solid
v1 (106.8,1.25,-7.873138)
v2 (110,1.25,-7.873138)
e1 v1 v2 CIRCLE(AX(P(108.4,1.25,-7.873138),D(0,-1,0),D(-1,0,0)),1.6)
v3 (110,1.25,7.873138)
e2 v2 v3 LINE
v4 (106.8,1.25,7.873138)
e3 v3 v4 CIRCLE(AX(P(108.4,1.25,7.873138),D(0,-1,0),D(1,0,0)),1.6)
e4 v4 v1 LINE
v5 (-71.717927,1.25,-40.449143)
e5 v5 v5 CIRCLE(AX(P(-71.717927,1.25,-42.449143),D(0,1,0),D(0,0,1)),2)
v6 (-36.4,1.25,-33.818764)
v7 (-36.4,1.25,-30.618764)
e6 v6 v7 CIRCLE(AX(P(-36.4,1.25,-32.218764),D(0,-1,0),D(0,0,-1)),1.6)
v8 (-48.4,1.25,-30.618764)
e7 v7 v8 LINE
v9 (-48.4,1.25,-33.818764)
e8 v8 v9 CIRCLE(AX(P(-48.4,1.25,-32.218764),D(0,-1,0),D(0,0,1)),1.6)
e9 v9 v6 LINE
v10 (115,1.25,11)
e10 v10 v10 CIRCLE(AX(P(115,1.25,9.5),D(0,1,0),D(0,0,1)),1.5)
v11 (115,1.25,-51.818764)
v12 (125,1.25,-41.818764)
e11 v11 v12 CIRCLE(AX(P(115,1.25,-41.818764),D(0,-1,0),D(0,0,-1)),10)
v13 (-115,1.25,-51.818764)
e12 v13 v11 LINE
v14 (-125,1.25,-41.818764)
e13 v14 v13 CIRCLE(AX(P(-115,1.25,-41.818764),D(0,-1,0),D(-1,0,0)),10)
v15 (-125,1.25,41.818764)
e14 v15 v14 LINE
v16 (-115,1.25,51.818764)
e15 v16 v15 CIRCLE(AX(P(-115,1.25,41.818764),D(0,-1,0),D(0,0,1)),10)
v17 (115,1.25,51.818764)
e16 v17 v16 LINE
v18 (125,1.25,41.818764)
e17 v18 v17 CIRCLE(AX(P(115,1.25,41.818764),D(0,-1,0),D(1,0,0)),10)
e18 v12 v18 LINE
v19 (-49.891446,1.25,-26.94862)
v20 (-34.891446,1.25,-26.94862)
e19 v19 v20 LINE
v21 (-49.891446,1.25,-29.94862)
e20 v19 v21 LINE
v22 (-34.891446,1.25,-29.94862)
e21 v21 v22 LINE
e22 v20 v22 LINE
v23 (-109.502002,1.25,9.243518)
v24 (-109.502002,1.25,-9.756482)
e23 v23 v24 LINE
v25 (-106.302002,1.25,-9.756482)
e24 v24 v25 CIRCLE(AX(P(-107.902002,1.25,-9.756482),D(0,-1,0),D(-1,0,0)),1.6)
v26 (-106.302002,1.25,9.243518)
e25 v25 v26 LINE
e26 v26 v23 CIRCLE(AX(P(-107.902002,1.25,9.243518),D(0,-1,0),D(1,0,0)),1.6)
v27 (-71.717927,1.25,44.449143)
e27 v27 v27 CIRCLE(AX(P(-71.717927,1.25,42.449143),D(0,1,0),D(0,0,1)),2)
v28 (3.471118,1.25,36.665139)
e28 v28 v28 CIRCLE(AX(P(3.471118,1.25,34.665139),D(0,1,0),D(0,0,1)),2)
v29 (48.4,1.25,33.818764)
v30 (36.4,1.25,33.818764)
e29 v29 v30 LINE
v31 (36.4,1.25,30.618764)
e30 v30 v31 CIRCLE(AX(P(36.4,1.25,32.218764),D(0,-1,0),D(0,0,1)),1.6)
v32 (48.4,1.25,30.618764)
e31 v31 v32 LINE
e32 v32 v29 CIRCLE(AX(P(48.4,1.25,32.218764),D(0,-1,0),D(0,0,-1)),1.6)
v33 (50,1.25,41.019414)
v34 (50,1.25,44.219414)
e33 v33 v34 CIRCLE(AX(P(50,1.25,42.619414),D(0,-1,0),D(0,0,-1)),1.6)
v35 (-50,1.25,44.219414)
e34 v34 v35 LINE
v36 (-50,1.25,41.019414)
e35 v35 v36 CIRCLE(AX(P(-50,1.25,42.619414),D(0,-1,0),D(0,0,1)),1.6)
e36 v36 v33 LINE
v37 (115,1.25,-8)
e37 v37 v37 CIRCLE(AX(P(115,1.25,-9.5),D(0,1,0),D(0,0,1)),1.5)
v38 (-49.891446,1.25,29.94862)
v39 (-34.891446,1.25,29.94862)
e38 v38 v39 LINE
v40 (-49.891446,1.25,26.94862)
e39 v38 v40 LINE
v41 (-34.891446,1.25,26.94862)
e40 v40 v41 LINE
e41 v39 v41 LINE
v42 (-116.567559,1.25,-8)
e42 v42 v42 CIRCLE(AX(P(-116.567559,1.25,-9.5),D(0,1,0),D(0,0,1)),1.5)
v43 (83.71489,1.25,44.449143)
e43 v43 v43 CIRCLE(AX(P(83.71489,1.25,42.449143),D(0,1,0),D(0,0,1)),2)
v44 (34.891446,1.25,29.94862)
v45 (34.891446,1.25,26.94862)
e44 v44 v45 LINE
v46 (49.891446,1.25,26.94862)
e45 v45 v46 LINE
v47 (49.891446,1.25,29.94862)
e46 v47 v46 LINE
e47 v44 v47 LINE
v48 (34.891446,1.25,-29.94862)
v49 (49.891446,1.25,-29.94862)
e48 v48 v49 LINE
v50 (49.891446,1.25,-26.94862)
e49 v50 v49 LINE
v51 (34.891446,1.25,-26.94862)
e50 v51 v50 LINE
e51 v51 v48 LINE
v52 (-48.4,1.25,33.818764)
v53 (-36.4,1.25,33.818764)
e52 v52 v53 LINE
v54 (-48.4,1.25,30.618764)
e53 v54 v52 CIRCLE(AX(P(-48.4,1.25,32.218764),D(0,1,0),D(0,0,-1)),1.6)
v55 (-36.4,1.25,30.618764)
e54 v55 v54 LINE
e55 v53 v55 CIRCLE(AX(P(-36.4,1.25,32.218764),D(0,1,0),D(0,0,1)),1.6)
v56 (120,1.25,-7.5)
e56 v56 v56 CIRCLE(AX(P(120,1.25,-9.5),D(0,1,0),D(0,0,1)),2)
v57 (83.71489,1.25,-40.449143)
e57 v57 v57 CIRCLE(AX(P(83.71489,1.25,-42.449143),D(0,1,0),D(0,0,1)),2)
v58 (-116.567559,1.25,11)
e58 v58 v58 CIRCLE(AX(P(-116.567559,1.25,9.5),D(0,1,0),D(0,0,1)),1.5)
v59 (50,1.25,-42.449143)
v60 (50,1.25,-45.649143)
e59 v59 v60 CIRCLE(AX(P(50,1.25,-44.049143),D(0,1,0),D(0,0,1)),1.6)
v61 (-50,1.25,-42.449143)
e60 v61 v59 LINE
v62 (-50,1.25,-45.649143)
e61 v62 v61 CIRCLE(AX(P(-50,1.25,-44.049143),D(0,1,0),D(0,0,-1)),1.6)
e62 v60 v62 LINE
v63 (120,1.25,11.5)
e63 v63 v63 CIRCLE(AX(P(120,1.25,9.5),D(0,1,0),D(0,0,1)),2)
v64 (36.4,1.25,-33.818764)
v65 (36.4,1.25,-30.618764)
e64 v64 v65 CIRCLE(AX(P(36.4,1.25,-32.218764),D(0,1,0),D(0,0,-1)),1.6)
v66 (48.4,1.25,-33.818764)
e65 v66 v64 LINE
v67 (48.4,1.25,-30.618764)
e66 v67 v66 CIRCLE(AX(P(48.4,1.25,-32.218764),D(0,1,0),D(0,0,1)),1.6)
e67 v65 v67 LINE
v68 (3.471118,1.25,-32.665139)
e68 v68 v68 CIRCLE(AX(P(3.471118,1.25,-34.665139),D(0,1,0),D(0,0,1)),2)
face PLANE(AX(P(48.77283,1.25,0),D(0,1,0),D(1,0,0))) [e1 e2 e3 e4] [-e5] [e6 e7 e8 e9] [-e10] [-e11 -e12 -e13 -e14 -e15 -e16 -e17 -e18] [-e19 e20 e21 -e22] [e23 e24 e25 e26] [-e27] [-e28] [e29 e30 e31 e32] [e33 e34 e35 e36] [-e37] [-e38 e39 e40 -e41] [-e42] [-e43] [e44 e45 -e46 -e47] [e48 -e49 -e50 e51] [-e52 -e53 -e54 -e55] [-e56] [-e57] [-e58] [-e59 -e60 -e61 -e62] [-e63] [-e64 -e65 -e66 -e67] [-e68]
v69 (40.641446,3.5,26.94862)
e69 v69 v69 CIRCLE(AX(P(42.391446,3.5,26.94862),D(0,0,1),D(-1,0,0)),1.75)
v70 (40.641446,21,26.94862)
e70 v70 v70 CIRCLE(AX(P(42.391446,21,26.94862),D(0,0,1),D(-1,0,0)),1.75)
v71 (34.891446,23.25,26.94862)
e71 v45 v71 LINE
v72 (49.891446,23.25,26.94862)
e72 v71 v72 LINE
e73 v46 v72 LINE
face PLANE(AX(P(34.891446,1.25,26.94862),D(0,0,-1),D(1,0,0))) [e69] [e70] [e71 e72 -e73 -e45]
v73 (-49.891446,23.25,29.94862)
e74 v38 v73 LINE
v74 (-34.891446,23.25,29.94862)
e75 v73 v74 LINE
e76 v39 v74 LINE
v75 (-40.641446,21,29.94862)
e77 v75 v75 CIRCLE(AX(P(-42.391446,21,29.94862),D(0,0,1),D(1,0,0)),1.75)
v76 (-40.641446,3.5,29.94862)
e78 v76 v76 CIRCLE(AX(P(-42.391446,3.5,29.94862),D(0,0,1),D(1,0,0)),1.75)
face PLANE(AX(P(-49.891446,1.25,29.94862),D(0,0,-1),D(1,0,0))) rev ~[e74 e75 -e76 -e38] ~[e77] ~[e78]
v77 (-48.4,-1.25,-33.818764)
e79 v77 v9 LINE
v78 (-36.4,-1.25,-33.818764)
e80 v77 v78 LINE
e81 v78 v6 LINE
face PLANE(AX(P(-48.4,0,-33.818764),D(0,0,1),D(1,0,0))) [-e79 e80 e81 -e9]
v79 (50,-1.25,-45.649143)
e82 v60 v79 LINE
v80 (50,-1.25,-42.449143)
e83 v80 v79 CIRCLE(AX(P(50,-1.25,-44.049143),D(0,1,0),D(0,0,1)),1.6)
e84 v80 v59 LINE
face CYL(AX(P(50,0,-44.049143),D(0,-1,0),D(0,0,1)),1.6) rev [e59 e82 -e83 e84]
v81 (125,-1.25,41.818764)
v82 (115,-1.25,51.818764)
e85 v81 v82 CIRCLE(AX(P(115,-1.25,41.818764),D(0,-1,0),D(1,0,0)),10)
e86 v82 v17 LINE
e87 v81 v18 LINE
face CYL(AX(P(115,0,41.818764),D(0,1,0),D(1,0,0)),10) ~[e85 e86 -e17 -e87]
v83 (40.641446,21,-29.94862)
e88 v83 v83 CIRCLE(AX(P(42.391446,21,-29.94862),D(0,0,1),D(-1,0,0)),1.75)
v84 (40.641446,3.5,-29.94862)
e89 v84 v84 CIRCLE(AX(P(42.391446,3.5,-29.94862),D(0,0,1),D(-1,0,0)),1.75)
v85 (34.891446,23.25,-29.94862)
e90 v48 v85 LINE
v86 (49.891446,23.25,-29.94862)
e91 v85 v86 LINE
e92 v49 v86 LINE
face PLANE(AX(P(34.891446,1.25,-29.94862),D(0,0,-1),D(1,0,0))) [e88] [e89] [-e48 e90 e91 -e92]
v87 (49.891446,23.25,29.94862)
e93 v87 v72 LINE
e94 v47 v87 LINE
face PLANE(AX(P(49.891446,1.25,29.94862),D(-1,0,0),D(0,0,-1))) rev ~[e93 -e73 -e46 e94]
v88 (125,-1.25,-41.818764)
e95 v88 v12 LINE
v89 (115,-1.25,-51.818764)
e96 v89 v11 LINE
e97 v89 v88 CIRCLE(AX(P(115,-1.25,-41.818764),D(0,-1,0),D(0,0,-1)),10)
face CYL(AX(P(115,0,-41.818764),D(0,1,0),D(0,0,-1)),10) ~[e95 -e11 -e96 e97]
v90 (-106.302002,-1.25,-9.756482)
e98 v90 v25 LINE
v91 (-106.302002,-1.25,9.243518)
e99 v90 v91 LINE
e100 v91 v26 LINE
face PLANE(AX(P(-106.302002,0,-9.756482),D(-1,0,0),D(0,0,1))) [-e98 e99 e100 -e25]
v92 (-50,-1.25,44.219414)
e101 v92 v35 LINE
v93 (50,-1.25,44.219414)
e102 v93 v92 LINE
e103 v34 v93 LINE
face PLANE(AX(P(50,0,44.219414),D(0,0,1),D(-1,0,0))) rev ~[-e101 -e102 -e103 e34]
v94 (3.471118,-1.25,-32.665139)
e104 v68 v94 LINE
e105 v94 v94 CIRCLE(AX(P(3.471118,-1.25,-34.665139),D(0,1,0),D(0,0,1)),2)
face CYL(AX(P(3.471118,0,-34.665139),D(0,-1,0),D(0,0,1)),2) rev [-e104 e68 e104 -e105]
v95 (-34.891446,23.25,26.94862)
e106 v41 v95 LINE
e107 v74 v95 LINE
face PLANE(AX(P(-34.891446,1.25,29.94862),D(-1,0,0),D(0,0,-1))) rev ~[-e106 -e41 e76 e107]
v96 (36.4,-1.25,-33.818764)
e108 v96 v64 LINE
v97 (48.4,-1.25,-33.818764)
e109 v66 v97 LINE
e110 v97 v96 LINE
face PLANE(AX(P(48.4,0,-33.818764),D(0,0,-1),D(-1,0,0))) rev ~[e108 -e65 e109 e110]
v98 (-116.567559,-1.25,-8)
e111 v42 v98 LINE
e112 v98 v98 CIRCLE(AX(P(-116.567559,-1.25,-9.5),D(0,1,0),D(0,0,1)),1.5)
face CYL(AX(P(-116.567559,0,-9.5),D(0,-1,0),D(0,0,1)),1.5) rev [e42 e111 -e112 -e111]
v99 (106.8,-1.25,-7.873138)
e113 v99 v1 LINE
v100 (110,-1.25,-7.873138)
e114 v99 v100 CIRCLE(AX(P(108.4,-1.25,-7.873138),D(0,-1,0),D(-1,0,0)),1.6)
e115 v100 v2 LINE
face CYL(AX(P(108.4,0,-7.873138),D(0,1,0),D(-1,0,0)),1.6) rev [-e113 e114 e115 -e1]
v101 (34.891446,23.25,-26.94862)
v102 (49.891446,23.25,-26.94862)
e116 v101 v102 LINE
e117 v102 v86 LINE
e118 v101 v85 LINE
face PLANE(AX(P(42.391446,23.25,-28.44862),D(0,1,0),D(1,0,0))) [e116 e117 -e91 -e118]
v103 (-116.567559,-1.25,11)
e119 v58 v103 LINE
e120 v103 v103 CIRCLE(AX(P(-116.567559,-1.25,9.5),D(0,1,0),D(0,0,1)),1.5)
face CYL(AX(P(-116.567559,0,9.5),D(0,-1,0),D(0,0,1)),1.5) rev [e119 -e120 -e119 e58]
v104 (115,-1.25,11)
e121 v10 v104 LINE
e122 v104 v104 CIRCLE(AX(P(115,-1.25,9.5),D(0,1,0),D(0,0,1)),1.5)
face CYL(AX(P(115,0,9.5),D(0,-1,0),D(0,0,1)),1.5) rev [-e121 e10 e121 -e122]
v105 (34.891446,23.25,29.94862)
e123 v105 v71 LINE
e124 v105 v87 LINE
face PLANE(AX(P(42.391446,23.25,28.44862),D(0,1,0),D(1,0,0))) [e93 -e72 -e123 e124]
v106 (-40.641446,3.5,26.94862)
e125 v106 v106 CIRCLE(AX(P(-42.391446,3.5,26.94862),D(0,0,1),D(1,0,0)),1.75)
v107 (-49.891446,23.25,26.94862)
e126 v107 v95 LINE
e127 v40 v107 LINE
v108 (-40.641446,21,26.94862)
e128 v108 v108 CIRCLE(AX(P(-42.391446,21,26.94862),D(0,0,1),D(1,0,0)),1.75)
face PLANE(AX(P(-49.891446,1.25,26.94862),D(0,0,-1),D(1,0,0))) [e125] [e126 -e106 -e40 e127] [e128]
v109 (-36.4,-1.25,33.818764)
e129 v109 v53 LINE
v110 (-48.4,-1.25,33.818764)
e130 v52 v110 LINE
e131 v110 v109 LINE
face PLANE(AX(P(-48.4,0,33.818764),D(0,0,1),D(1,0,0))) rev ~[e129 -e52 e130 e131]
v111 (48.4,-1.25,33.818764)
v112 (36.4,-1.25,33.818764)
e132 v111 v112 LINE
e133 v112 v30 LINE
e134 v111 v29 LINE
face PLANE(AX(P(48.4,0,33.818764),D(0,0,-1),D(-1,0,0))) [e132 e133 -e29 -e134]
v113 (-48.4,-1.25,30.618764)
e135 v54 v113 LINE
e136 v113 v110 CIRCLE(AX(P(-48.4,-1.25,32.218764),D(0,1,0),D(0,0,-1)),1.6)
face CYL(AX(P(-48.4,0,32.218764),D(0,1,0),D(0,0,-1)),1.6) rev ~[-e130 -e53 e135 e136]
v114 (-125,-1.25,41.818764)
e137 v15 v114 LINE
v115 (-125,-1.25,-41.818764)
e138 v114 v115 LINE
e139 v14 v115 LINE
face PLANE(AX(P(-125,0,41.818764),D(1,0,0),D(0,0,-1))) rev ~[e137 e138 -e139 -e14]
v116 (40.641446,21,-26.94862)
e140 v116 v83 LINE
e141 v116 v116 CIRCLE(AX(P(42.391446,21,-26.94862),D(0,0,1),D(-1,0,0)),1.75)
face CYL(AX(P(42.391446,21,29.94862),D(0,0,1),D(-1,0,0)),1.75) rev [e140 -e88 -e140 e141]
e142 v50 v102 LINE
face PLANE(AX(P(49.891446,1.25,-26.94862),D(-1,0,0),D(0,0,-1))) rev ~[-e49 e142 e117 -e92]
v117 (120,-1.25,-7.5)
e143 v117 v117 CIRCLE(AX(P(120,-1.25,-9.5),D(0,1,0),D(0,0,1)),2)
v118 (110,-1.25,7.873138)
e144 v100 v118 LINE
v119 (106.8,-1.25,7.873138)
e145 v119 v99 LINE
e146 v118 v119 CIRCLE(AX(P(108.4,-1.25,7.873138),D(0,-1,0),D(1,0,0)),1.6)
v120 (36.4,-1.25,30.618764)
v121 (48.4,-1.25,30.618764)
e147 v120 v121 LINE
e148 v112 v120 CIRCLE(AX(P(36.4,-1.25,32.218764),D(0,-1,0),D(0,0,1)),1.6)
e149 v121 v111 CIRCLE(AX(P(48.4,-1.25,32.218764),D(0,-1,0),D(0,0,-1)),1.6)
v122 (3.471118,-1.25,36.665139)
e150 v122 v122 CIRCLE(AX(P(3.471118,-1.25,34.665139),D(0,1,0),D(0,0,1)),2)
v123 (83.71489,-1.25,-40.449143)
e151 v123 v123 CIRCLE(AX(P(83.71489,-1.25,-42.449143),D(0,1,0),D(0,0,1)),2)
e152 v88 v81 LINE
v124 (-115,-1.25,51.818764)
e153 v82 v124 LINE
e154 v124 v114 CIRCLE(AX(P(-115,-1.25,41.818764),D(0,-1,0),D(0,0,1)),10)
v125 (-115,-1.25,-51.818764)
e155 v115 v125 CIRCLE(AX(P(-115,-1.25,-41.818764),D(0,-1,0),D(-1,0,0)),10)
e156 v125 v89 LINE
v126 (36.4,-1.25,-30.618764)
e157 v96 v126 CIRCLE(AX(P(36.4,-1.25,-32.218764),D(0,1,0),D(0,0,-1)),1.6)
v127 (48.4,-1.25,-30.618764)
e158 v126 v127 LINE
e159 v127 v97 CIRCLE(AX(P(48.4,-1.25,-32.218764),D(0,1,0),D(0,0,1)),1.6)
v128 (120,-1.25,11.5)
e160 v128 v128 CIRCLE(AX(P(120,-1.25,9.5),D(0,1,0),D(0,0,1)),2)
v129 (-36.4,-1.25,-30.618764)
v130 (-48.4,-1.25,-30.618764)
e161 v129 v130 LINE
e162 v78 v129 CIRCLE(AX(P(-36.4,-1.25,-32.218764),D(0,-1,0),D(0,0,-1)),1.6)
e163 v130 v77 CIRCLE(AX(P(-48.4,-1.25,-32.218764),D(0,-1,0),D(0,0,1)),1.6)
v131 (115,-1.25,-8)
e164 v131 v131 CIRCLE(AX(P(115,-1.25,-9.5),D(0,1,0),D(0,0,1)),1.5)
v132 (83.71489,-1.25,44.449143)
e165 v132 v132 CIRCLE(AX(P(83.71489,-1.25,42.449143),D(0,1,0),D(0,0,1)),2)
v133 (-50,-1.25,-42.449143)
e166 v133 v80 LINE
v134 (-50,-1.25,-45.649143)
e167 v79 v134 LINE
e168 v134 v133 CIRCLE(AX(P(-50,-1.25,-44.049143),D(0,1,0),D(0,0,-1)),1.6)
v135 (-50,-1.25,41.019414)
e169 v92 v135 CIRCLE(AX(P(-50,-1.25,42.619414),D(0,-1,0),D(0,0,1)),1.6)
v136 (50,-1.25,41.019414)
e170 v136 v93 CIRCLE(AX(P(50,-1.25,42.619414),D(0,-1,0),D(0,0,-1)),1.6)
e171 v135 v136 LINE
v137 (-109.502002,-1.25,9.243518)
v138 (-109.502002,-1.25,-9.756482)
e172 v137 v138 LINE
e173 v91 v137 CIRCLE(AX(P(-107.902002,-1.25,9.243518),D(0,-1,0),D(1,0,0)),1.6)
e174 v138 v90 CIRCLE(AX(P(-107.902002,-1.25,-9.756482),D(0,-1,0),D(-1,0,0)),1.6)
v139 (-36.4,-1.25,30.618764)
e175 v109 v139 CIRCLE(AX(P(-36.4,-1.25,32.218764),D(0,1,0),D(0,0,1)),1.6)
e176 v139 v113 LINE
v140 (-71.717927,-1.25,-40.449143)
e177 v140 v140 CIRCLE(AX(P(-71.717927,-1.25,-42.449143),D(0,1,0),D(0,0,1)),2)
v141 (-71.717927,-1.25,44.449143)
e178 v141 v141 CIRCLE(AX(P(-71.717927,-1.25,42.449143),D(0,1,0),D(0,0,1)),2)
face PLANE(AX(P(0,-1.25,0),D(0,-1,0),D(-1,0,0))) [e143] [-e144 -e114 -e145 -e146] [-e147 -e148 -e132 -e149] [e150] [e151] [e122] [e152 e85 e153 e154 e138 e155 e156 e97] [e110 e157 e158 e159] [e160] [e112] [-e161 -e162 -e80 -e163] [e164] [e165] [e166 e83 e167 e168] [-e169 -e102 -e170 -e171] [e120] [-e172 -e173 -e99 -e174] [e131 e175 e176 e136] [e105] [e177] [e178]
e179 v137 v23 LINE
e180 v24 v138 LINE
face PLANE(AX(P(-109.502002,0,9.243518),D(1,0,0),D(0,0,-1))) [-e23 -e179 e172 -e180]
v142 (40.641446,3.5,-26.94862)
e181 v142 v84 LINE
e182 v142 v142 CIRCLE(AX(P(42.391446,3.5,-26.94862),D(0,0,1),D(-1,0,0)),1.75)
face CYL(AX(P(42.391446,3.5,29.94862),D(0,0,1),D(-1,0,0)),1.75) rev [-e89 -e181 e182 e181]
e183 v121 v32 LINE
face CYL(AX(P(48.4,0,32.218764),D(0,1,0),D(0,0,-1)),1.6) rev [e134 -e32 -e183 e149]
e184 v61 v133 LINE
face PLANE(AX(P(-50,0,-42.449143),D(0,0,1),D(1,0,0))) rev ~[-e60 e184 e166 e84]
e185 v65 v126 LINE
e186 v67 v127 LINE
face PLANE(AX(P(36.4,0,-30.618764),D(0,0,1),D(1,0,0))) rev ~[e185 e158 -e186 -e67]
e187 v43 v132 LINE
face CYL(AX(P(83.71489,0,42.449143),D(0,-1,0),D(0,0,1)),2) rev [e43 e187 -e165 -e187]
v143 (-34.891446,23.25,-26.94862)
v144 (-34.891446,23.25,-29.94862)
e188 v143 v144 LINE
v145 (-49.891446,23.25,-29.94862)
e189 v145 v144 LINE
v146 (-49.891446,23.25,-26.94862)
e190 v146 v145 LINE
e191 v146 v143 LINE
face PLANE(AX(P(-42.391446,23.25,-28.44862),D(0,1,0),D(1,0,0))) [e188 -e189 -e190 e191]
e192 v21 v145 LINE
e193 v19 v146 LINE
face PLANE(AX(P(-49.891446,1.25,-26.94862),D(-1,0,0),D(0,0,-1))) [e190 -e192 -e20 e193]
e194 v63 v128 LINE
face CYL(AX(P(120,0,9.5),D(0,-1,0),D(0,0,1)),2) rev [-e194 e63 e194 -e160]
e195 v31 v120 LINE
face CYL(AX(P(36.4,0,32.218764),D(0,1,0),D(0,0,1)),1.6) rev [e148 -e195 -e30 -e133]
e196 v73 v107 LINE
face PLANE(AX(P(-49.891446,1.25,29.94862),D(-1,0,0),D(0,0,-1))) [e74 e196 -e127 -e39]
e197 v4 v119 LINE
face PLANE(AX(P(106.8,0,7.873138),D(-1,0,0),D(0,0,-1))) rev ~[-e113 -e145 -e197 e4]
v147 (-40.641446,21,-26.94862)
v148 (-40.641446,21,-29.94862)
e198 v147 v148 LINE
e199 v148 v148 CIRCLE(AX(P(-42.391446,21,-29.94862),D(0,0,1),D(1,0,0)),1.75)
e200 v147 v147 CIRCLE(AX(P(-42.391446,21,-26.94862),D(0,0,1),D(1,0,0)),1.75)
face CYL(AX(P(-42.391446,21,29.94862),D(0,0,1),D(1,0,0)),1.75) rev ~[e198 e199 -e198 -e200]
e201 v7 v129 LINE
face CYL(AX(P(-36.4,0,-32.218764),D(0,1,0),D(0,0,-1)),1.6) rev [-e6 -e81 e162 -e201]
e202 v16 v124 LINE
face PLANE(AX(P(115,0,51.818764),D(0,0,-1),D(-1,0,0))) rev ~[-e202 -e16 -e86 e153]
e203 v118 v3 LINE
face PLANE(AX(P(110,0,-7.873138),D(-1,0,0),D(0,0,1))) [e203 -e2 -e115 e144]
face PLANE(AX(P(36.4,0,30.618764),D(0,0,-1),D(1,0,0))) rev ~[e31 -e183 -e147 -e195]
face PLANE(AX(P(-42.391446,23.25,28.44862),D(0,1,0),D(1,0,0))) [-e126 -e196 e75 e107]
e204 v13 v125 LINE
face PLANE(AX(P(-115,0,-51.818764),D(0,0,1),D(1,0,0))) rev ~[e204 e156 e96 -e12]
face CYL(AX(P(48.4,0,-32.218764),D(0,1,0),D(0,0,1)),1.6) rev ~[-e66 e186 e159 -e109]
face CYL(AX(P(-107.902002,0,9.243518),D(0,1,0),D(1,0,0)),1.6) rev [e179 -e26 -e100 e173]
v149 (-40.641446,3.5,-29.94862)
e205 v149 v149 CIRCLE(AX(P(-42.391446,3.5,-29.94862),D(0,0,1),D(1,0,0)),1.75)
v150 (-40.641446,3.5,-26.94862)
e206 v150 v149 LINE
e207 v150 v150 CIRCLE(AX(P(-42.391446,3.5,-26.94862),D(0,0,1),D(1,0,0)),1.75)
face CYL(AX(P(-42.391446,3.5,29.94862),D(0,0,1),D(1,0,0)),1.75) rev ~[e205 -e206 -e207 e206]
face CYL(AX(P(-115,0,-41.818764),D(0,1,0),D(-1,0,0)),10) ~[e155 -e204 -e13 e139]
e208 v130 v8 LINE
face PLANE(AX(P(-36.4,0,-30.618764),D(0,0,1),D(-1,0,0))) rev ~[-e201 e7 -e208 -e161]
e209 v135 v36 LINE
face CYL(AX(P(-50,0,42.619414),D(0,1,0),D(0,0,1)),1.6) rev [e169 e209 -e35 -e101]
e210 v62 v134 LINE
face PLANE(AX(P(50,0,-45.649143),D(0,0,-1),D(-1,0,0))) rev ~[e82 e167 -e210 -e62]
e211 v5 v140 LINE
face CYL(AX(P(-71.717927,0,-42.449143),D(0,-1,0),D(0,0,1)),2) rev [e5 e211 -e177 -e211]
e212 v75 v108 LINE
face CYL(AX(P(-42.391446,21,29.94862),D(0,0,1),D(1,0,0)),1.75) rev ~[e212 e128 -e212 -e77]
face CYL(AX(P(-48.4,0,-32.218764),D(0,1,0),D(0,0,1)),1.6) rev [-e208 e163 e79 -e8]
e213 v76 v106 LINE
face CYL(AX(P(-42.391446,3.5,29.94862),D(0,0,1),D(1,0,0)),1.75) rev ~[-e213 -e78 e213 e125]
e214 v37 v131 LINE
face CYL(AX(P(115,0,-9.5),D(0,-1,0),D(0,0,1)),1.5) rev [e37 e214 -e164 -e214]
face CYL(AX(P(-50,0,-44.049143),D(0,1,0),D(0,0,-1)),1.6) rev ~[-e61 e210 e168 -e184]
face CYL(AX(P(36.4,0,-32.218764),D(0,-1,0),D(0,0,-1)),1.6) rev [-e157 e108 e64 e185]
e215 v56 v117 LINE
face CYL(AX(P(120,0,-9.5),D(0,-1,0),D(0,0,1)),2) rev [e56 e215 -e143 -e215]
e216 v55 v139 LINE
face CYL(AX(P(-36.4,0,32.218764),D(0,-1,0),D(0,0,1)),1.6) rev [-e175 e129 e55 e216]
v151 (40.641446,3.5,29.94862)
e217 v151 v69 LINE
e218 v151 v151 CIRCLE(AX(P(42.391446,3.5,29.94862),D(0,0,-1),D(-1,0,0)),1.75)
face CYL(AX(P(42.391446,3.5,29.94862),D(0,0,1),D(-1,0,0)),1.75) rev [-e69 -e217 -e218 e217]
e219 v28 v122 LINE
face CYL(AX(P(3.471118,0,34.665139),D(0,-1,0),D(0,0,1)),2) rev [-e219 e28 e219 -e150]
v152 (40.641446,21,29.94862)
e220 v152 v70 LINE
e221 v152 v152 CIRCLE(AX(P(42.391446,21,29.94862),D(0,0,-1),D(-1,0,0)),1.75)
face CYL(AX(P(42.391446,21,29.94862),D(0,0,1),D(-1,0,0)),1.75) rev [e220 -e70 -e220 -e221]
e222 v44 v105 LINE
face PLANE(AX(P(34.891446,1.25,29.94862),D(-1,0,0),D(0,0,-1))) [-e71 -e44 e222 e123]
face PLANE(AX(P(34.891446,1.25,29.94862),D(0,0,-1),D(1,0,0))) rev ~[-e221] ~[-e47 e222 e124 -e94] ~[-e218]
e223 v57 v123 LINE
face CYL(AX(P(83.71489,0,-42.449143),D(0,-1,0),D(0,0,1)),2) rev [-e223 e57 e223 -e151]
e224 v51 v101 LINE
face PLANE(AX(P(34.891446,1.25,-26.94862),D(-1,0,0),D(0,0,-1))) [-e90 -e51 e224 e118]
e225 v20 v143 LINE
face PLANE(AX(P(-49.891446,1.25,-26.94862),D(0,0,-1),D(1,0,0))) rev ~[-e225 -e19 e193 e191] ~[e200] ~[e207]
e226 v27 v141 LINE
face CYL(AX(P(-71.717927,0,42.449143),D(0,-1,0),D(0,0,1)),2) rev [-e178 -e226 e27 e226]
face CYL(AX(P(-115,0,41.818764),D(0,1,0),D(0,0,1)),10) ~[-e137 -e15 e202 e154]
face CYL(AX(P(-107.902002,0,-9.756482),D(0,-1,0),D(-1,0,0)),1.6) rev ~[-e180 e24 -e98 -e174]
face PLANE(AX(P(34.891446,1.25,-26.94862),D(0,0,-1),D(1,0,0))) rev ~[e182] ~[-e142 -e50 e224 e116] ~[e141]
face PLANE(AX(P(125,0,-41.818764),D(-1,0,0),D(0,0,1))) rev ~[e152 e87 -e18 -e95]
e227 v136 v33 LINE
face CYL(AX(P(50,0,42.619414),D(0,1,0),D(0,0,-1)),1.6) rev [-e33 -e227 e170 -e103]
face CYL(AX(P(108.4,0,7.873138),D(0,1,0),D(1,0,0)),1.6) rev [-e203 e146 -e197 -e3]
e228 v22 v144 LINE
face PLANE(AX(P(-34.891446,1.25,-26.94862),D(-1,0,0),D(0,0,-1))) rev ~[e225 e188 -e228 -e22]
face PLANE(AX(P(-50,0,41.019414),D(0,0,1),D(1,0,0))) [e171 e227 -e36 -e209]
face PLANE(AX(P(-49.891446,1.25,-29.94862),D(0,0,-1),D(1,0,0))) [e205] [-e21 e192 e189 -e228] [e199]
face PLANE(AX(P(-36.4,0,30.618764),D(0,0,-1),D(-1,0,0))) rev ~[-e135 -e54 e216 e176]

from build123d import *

# Parameters (mm, degrees)
SKETCH_1_R          = 2
SKETCH_1_R_2        = 1.5
SKETCH_1_W          = 83
SKETCH_1_H          = 53
EXTRUDE_1_DEPTH     = 1.25
SKETCH_1_3_W        = 83
SKETCH_1_3_H        = 53
EXTRUDE_2_DEPTH     = 1.25
SKETCH_3_W          = 15
SKETCH_3_H          = 3
EXTRUDE_3_DEPTH     = 22
SKETCH_4_R          = 1.75
CUT_EXTRUDE_1_DEPTH = 152.167018917


with BuildPart() as part:
    # 草图1 → 凸台-拉伸1 (new, symmetric)
    with BuildSketch(Plane(origin=(0, 0, 0), x_dir=(1, 0, 0), z_dir=(0, 1, 0))):
        with BuildLine():
            Line((115, -51.818763954), (-115, -51.818763954))
            ThreePointArc((-115, -51.818763954), (-122.071067812, -48.889831766), (-125, -41.818763954))
            Line((-125, -41.818763954), (-125, 41.818763954))
            ThreePointArc((-125, 41.818763954), (-122.071067812, 48.889831766), (-115, 51.818763954))
            Line((-115, 51.818763954), (115, 51.818763954))
            ThreePointArc((115, 51.818763954), (122.071067812, 48.889831766), (125, 41.818763954))
            Line((125, 41.818763954), (125, -41.818763954))
            ThreePointArc((125, -41.818763954), (122.071067812, -48.889831766), (115, -51.818763954))
        make_face()
        with Locations(Location((120, 9.5, 0), (0, 0, 270))):
            Circle(SKETCH_1_R, mode=Mode.SUBTRACT)
        with Locations(Location((120, -9.5, 0), (0, 0, 270))):
            Circle(SKETCH_1_R, mode=Mode.SUBTRACT)
        with Locations(Location((115, 9.5, 0), (0, 0, 270))):
            Circle(SKETCH_1_R_2, mode=Mode.SUBTRACT)
        with Locations(Location((115, -9.5, 0), (0, 0, 270))):
            Circle(SKETCH_1_R_2, mode=Mode.SUBTRACT)
        with Locations(Location((-116.567558605, 9.5, 0), (0, 0, 270))):
            Circle(SKETCH_1_R_2, mode=Mode.SUBTRACT)
        with Locations(Location((-116.567558605, -9.5, 0), (0, 0, 270))):
            Circle(SKETCH_1_R_2, mode=Mode.SUBTRACT)
        with Locations(Location((-71.717926986, 42.44914331, 0), (0, 0, 270))):
            Circle(SKETCH_1_R, mode=Mode.SUBTRACT)
        with Locations(Location((3.471118404, 34.665138943, 0), (0, 0, 270))):
            Circle(SKETCH_1_R, mode=Mode.SUBTRACT)
        with Locations(Location((83.714889534, 42.44914331, 0), (0, 0, 270))):
            Circle(SKETCH_1_R, mode=Mode.SUBTRACT)
        with Locations(Location((83.714889534, -42.44914331, 0), (0, 0, 270))):
            Circle(SKETCH_1_R, mode=Mode.SUBTRACT)
        with Locations(Location((3.471118404, -34.665138943, 0), (0, 0, 270))):
            Circle(SKETCH_1_R, mode=Mode.SUBTRACT)
        with Locations(Location((-71.717926986, -42.44914331, 0), (0, 0, 270))):
            Circle(SKETCH_1_R, mode=Mode.SUBTRACT)
        with BuildLine():
            Line((-48.4, 33.818763954), (-36.4, 33.818763954))
            ThreePointArc((-36.4, 33.818763954), (-34.8, 32.218763954), (-36.4, 30.618763954))
            Line((-36.4, 30.618763954), (-48.4, 30.618763954))
            ThreePointArc((-48.4, 30.618763954), (-50, 32.218763954), (-48.4, 33.818763954))
        make_face(mode=Mode.SUBTRACT)
        with BuildLine():
            Line((-48.4, -33.818763954), (-36.4, -33.818763954))
            ThreePointArc((-36.4, -33.818763954), (-34.8, -32.218763954), (-36.4, -30.618763954))
            Line((-36.4, -30.618763954), (-48.4, -30.618763954))
            ThreePointArc((-48.4, -30.618763954), (-50, -32.218763954), (-48.4, -33.818763954))
        make_face(mode=Mode.SUBTRACT)
        with BuildLine():
            Line((48.4, -33.818763954), (36.4, -33.818763954))
            ThreePointArc((36.4, -33.818763954), (34.8, -32.218763954), (36.4, -30.618763954))
            Line((36.4, -30.618763954), (48.4, -30.618763954))
            ThreePointArc((48.4, -30.618763954), (50, -32.218763954), (48.4, -33.818763954))
        make_face(mode=Mode.SUBTRACT)
        with BuildLine():
            Line((48.4, 33.818763954), (36.4, 33.818763954))
            ThreePointArc((36.4, 33.818763954), (34.8, 32.218763954), (36.4, 30.618763954))
            Line((36.4, 30.618763954), (48.4, 30.618763954))
            ThreePointArc((48.4, 30.618763954), (50, 32.218763954), (48.4, 33.818763954))
        make_face(mode=Mode.SUBTRACT)
        with Locations((48.772829551, 0)):
            Rectangle(SKETCH_1_W, SKETCH_1_H, mode=Mode.SUBTRACT)
        with BuildLine():
            Line((-50, -41.019413621), (50, -41.019413621))
            ThreePointArc((50, -41.019413621), (51.6, -42.619413621), (50, -44.219413621))
            Line((50, -44.219413621), (-50, -44.219413621))
            ThreePointArc((-50, -44.219413621), (-51.6, -42.619413621), (-50, -41.019413621))
        make_face(mode=Mode.SUBTRACT)
        with BuildLine():
            Line((-50, 42.44914331), (50, 42.44914331))
            ThreePointArc((50, 42.44914331), (51.6, 44.04914331), (50, 45.64914331))
            Line((50, 45.64914331), (-50, 45.64914331))
            ThreePointArc((-50, 45.64914331), (-51.6, 44.04914331), (-50, 42.44914331))
        make_face(mode=Mode.SUBTRACT)
        with BuildLine():
            Line((110, 7.8731375), (110, -7.8731375))
            ThreePointArc((110, -7.8731375), (108.4, -9.4731375), (106.8, -7.8731375))
            Line((106.8, -7.8731375), (106.8, 7.8731375))
            ThreePointArc((106.8, 7.8731375), (108.4, 9.4731375), (110, 7.8731375))
        make_face(mode=Mode.SUBTRACT)
        with BuildLine():
            Line((-106.302001896, 9.756482491), (-106.302001896, -9.243517509))
            ThreePointArc((-106.302001896, -9.243517509), (-107.902001896, -10.843517509), (-109.502001896, -9.243517509))
            Line((-109.502001896, -9.243517509), (-109.502001896, 9.756482491))
            ThreePointArc((-109.502001896, 9.756482491), (-107.902001896, 11.356482491), (-106.302001896, 9.756482491))
        make_face(mode=Mode.SUBTRACT)
    extrude(amount=EXTRUDE_1_DEPTH, both=True)

    # 草图1<3> → 凸台-拉伸2 (add, symmetric)
    with BuildSketch(Plane(origin=(0, 0, 0), x_dir=(1, 0, 0), z_dir=(0, 1, 0))):
        with Locations((48.772829551, 0)):
            Rectangle(SKETCH_1_3_W, SKETCH_1_3_H)
    extrude(amount=EXTRUDE_2_DEPTH, both=True)

    # 草图3 → 凸台-拉伸3 (add)
    with BuildSketch(Plane(origin=(0, 1.25, 0), x_dir=(1, 0, 0), z_dir=(0, 1, 0))):
        with Locations((-42.391446381, -28.448620181)):
            Rectangle(SKETCH_3_W, SKETCH_3_H)
        with Locations((-42.391446381, 28.448620181)):
            Rectangle(SKETCH_3_W, SKETCH_3_H)
        with Locations((42.391446381, -28.448620181)):
            Rectangle(SKETCH_3_W, SKETCH_3_H)
        with Locations((42.391446381, 28.448620181)):
            Rectangle(SKETCH_3_W, SKETCH_3_H)
    extrude(amount=EXTRUDE_3_DEPTH)

    # 草图4 → 切除-拉伸1 (cut, through all)
    with BuildSketch(Plane.XY.offset(29.948620181)):
        with Locations((-42.391446381, 21)):
            Circle(SKETCH_4_R)
        with Locations((-42.391446381, 3.5)):
            Circle(SKETCH_4_R)
    cut_extrude_1 = extrude(amount=-CUT_EXTRUDE_1_DEPTH, mode=Mode.SUBTRACT)

    # 镜向1: 切除-拉伸1 across plane
    add(cut_extrude_1.mirror(Plane(origin=(0, 0, 0), x_dir=(0, 0, 1), z_dir=(1, 0, 0))), mode=Mode.SUBTRACT)


solid = part.part
